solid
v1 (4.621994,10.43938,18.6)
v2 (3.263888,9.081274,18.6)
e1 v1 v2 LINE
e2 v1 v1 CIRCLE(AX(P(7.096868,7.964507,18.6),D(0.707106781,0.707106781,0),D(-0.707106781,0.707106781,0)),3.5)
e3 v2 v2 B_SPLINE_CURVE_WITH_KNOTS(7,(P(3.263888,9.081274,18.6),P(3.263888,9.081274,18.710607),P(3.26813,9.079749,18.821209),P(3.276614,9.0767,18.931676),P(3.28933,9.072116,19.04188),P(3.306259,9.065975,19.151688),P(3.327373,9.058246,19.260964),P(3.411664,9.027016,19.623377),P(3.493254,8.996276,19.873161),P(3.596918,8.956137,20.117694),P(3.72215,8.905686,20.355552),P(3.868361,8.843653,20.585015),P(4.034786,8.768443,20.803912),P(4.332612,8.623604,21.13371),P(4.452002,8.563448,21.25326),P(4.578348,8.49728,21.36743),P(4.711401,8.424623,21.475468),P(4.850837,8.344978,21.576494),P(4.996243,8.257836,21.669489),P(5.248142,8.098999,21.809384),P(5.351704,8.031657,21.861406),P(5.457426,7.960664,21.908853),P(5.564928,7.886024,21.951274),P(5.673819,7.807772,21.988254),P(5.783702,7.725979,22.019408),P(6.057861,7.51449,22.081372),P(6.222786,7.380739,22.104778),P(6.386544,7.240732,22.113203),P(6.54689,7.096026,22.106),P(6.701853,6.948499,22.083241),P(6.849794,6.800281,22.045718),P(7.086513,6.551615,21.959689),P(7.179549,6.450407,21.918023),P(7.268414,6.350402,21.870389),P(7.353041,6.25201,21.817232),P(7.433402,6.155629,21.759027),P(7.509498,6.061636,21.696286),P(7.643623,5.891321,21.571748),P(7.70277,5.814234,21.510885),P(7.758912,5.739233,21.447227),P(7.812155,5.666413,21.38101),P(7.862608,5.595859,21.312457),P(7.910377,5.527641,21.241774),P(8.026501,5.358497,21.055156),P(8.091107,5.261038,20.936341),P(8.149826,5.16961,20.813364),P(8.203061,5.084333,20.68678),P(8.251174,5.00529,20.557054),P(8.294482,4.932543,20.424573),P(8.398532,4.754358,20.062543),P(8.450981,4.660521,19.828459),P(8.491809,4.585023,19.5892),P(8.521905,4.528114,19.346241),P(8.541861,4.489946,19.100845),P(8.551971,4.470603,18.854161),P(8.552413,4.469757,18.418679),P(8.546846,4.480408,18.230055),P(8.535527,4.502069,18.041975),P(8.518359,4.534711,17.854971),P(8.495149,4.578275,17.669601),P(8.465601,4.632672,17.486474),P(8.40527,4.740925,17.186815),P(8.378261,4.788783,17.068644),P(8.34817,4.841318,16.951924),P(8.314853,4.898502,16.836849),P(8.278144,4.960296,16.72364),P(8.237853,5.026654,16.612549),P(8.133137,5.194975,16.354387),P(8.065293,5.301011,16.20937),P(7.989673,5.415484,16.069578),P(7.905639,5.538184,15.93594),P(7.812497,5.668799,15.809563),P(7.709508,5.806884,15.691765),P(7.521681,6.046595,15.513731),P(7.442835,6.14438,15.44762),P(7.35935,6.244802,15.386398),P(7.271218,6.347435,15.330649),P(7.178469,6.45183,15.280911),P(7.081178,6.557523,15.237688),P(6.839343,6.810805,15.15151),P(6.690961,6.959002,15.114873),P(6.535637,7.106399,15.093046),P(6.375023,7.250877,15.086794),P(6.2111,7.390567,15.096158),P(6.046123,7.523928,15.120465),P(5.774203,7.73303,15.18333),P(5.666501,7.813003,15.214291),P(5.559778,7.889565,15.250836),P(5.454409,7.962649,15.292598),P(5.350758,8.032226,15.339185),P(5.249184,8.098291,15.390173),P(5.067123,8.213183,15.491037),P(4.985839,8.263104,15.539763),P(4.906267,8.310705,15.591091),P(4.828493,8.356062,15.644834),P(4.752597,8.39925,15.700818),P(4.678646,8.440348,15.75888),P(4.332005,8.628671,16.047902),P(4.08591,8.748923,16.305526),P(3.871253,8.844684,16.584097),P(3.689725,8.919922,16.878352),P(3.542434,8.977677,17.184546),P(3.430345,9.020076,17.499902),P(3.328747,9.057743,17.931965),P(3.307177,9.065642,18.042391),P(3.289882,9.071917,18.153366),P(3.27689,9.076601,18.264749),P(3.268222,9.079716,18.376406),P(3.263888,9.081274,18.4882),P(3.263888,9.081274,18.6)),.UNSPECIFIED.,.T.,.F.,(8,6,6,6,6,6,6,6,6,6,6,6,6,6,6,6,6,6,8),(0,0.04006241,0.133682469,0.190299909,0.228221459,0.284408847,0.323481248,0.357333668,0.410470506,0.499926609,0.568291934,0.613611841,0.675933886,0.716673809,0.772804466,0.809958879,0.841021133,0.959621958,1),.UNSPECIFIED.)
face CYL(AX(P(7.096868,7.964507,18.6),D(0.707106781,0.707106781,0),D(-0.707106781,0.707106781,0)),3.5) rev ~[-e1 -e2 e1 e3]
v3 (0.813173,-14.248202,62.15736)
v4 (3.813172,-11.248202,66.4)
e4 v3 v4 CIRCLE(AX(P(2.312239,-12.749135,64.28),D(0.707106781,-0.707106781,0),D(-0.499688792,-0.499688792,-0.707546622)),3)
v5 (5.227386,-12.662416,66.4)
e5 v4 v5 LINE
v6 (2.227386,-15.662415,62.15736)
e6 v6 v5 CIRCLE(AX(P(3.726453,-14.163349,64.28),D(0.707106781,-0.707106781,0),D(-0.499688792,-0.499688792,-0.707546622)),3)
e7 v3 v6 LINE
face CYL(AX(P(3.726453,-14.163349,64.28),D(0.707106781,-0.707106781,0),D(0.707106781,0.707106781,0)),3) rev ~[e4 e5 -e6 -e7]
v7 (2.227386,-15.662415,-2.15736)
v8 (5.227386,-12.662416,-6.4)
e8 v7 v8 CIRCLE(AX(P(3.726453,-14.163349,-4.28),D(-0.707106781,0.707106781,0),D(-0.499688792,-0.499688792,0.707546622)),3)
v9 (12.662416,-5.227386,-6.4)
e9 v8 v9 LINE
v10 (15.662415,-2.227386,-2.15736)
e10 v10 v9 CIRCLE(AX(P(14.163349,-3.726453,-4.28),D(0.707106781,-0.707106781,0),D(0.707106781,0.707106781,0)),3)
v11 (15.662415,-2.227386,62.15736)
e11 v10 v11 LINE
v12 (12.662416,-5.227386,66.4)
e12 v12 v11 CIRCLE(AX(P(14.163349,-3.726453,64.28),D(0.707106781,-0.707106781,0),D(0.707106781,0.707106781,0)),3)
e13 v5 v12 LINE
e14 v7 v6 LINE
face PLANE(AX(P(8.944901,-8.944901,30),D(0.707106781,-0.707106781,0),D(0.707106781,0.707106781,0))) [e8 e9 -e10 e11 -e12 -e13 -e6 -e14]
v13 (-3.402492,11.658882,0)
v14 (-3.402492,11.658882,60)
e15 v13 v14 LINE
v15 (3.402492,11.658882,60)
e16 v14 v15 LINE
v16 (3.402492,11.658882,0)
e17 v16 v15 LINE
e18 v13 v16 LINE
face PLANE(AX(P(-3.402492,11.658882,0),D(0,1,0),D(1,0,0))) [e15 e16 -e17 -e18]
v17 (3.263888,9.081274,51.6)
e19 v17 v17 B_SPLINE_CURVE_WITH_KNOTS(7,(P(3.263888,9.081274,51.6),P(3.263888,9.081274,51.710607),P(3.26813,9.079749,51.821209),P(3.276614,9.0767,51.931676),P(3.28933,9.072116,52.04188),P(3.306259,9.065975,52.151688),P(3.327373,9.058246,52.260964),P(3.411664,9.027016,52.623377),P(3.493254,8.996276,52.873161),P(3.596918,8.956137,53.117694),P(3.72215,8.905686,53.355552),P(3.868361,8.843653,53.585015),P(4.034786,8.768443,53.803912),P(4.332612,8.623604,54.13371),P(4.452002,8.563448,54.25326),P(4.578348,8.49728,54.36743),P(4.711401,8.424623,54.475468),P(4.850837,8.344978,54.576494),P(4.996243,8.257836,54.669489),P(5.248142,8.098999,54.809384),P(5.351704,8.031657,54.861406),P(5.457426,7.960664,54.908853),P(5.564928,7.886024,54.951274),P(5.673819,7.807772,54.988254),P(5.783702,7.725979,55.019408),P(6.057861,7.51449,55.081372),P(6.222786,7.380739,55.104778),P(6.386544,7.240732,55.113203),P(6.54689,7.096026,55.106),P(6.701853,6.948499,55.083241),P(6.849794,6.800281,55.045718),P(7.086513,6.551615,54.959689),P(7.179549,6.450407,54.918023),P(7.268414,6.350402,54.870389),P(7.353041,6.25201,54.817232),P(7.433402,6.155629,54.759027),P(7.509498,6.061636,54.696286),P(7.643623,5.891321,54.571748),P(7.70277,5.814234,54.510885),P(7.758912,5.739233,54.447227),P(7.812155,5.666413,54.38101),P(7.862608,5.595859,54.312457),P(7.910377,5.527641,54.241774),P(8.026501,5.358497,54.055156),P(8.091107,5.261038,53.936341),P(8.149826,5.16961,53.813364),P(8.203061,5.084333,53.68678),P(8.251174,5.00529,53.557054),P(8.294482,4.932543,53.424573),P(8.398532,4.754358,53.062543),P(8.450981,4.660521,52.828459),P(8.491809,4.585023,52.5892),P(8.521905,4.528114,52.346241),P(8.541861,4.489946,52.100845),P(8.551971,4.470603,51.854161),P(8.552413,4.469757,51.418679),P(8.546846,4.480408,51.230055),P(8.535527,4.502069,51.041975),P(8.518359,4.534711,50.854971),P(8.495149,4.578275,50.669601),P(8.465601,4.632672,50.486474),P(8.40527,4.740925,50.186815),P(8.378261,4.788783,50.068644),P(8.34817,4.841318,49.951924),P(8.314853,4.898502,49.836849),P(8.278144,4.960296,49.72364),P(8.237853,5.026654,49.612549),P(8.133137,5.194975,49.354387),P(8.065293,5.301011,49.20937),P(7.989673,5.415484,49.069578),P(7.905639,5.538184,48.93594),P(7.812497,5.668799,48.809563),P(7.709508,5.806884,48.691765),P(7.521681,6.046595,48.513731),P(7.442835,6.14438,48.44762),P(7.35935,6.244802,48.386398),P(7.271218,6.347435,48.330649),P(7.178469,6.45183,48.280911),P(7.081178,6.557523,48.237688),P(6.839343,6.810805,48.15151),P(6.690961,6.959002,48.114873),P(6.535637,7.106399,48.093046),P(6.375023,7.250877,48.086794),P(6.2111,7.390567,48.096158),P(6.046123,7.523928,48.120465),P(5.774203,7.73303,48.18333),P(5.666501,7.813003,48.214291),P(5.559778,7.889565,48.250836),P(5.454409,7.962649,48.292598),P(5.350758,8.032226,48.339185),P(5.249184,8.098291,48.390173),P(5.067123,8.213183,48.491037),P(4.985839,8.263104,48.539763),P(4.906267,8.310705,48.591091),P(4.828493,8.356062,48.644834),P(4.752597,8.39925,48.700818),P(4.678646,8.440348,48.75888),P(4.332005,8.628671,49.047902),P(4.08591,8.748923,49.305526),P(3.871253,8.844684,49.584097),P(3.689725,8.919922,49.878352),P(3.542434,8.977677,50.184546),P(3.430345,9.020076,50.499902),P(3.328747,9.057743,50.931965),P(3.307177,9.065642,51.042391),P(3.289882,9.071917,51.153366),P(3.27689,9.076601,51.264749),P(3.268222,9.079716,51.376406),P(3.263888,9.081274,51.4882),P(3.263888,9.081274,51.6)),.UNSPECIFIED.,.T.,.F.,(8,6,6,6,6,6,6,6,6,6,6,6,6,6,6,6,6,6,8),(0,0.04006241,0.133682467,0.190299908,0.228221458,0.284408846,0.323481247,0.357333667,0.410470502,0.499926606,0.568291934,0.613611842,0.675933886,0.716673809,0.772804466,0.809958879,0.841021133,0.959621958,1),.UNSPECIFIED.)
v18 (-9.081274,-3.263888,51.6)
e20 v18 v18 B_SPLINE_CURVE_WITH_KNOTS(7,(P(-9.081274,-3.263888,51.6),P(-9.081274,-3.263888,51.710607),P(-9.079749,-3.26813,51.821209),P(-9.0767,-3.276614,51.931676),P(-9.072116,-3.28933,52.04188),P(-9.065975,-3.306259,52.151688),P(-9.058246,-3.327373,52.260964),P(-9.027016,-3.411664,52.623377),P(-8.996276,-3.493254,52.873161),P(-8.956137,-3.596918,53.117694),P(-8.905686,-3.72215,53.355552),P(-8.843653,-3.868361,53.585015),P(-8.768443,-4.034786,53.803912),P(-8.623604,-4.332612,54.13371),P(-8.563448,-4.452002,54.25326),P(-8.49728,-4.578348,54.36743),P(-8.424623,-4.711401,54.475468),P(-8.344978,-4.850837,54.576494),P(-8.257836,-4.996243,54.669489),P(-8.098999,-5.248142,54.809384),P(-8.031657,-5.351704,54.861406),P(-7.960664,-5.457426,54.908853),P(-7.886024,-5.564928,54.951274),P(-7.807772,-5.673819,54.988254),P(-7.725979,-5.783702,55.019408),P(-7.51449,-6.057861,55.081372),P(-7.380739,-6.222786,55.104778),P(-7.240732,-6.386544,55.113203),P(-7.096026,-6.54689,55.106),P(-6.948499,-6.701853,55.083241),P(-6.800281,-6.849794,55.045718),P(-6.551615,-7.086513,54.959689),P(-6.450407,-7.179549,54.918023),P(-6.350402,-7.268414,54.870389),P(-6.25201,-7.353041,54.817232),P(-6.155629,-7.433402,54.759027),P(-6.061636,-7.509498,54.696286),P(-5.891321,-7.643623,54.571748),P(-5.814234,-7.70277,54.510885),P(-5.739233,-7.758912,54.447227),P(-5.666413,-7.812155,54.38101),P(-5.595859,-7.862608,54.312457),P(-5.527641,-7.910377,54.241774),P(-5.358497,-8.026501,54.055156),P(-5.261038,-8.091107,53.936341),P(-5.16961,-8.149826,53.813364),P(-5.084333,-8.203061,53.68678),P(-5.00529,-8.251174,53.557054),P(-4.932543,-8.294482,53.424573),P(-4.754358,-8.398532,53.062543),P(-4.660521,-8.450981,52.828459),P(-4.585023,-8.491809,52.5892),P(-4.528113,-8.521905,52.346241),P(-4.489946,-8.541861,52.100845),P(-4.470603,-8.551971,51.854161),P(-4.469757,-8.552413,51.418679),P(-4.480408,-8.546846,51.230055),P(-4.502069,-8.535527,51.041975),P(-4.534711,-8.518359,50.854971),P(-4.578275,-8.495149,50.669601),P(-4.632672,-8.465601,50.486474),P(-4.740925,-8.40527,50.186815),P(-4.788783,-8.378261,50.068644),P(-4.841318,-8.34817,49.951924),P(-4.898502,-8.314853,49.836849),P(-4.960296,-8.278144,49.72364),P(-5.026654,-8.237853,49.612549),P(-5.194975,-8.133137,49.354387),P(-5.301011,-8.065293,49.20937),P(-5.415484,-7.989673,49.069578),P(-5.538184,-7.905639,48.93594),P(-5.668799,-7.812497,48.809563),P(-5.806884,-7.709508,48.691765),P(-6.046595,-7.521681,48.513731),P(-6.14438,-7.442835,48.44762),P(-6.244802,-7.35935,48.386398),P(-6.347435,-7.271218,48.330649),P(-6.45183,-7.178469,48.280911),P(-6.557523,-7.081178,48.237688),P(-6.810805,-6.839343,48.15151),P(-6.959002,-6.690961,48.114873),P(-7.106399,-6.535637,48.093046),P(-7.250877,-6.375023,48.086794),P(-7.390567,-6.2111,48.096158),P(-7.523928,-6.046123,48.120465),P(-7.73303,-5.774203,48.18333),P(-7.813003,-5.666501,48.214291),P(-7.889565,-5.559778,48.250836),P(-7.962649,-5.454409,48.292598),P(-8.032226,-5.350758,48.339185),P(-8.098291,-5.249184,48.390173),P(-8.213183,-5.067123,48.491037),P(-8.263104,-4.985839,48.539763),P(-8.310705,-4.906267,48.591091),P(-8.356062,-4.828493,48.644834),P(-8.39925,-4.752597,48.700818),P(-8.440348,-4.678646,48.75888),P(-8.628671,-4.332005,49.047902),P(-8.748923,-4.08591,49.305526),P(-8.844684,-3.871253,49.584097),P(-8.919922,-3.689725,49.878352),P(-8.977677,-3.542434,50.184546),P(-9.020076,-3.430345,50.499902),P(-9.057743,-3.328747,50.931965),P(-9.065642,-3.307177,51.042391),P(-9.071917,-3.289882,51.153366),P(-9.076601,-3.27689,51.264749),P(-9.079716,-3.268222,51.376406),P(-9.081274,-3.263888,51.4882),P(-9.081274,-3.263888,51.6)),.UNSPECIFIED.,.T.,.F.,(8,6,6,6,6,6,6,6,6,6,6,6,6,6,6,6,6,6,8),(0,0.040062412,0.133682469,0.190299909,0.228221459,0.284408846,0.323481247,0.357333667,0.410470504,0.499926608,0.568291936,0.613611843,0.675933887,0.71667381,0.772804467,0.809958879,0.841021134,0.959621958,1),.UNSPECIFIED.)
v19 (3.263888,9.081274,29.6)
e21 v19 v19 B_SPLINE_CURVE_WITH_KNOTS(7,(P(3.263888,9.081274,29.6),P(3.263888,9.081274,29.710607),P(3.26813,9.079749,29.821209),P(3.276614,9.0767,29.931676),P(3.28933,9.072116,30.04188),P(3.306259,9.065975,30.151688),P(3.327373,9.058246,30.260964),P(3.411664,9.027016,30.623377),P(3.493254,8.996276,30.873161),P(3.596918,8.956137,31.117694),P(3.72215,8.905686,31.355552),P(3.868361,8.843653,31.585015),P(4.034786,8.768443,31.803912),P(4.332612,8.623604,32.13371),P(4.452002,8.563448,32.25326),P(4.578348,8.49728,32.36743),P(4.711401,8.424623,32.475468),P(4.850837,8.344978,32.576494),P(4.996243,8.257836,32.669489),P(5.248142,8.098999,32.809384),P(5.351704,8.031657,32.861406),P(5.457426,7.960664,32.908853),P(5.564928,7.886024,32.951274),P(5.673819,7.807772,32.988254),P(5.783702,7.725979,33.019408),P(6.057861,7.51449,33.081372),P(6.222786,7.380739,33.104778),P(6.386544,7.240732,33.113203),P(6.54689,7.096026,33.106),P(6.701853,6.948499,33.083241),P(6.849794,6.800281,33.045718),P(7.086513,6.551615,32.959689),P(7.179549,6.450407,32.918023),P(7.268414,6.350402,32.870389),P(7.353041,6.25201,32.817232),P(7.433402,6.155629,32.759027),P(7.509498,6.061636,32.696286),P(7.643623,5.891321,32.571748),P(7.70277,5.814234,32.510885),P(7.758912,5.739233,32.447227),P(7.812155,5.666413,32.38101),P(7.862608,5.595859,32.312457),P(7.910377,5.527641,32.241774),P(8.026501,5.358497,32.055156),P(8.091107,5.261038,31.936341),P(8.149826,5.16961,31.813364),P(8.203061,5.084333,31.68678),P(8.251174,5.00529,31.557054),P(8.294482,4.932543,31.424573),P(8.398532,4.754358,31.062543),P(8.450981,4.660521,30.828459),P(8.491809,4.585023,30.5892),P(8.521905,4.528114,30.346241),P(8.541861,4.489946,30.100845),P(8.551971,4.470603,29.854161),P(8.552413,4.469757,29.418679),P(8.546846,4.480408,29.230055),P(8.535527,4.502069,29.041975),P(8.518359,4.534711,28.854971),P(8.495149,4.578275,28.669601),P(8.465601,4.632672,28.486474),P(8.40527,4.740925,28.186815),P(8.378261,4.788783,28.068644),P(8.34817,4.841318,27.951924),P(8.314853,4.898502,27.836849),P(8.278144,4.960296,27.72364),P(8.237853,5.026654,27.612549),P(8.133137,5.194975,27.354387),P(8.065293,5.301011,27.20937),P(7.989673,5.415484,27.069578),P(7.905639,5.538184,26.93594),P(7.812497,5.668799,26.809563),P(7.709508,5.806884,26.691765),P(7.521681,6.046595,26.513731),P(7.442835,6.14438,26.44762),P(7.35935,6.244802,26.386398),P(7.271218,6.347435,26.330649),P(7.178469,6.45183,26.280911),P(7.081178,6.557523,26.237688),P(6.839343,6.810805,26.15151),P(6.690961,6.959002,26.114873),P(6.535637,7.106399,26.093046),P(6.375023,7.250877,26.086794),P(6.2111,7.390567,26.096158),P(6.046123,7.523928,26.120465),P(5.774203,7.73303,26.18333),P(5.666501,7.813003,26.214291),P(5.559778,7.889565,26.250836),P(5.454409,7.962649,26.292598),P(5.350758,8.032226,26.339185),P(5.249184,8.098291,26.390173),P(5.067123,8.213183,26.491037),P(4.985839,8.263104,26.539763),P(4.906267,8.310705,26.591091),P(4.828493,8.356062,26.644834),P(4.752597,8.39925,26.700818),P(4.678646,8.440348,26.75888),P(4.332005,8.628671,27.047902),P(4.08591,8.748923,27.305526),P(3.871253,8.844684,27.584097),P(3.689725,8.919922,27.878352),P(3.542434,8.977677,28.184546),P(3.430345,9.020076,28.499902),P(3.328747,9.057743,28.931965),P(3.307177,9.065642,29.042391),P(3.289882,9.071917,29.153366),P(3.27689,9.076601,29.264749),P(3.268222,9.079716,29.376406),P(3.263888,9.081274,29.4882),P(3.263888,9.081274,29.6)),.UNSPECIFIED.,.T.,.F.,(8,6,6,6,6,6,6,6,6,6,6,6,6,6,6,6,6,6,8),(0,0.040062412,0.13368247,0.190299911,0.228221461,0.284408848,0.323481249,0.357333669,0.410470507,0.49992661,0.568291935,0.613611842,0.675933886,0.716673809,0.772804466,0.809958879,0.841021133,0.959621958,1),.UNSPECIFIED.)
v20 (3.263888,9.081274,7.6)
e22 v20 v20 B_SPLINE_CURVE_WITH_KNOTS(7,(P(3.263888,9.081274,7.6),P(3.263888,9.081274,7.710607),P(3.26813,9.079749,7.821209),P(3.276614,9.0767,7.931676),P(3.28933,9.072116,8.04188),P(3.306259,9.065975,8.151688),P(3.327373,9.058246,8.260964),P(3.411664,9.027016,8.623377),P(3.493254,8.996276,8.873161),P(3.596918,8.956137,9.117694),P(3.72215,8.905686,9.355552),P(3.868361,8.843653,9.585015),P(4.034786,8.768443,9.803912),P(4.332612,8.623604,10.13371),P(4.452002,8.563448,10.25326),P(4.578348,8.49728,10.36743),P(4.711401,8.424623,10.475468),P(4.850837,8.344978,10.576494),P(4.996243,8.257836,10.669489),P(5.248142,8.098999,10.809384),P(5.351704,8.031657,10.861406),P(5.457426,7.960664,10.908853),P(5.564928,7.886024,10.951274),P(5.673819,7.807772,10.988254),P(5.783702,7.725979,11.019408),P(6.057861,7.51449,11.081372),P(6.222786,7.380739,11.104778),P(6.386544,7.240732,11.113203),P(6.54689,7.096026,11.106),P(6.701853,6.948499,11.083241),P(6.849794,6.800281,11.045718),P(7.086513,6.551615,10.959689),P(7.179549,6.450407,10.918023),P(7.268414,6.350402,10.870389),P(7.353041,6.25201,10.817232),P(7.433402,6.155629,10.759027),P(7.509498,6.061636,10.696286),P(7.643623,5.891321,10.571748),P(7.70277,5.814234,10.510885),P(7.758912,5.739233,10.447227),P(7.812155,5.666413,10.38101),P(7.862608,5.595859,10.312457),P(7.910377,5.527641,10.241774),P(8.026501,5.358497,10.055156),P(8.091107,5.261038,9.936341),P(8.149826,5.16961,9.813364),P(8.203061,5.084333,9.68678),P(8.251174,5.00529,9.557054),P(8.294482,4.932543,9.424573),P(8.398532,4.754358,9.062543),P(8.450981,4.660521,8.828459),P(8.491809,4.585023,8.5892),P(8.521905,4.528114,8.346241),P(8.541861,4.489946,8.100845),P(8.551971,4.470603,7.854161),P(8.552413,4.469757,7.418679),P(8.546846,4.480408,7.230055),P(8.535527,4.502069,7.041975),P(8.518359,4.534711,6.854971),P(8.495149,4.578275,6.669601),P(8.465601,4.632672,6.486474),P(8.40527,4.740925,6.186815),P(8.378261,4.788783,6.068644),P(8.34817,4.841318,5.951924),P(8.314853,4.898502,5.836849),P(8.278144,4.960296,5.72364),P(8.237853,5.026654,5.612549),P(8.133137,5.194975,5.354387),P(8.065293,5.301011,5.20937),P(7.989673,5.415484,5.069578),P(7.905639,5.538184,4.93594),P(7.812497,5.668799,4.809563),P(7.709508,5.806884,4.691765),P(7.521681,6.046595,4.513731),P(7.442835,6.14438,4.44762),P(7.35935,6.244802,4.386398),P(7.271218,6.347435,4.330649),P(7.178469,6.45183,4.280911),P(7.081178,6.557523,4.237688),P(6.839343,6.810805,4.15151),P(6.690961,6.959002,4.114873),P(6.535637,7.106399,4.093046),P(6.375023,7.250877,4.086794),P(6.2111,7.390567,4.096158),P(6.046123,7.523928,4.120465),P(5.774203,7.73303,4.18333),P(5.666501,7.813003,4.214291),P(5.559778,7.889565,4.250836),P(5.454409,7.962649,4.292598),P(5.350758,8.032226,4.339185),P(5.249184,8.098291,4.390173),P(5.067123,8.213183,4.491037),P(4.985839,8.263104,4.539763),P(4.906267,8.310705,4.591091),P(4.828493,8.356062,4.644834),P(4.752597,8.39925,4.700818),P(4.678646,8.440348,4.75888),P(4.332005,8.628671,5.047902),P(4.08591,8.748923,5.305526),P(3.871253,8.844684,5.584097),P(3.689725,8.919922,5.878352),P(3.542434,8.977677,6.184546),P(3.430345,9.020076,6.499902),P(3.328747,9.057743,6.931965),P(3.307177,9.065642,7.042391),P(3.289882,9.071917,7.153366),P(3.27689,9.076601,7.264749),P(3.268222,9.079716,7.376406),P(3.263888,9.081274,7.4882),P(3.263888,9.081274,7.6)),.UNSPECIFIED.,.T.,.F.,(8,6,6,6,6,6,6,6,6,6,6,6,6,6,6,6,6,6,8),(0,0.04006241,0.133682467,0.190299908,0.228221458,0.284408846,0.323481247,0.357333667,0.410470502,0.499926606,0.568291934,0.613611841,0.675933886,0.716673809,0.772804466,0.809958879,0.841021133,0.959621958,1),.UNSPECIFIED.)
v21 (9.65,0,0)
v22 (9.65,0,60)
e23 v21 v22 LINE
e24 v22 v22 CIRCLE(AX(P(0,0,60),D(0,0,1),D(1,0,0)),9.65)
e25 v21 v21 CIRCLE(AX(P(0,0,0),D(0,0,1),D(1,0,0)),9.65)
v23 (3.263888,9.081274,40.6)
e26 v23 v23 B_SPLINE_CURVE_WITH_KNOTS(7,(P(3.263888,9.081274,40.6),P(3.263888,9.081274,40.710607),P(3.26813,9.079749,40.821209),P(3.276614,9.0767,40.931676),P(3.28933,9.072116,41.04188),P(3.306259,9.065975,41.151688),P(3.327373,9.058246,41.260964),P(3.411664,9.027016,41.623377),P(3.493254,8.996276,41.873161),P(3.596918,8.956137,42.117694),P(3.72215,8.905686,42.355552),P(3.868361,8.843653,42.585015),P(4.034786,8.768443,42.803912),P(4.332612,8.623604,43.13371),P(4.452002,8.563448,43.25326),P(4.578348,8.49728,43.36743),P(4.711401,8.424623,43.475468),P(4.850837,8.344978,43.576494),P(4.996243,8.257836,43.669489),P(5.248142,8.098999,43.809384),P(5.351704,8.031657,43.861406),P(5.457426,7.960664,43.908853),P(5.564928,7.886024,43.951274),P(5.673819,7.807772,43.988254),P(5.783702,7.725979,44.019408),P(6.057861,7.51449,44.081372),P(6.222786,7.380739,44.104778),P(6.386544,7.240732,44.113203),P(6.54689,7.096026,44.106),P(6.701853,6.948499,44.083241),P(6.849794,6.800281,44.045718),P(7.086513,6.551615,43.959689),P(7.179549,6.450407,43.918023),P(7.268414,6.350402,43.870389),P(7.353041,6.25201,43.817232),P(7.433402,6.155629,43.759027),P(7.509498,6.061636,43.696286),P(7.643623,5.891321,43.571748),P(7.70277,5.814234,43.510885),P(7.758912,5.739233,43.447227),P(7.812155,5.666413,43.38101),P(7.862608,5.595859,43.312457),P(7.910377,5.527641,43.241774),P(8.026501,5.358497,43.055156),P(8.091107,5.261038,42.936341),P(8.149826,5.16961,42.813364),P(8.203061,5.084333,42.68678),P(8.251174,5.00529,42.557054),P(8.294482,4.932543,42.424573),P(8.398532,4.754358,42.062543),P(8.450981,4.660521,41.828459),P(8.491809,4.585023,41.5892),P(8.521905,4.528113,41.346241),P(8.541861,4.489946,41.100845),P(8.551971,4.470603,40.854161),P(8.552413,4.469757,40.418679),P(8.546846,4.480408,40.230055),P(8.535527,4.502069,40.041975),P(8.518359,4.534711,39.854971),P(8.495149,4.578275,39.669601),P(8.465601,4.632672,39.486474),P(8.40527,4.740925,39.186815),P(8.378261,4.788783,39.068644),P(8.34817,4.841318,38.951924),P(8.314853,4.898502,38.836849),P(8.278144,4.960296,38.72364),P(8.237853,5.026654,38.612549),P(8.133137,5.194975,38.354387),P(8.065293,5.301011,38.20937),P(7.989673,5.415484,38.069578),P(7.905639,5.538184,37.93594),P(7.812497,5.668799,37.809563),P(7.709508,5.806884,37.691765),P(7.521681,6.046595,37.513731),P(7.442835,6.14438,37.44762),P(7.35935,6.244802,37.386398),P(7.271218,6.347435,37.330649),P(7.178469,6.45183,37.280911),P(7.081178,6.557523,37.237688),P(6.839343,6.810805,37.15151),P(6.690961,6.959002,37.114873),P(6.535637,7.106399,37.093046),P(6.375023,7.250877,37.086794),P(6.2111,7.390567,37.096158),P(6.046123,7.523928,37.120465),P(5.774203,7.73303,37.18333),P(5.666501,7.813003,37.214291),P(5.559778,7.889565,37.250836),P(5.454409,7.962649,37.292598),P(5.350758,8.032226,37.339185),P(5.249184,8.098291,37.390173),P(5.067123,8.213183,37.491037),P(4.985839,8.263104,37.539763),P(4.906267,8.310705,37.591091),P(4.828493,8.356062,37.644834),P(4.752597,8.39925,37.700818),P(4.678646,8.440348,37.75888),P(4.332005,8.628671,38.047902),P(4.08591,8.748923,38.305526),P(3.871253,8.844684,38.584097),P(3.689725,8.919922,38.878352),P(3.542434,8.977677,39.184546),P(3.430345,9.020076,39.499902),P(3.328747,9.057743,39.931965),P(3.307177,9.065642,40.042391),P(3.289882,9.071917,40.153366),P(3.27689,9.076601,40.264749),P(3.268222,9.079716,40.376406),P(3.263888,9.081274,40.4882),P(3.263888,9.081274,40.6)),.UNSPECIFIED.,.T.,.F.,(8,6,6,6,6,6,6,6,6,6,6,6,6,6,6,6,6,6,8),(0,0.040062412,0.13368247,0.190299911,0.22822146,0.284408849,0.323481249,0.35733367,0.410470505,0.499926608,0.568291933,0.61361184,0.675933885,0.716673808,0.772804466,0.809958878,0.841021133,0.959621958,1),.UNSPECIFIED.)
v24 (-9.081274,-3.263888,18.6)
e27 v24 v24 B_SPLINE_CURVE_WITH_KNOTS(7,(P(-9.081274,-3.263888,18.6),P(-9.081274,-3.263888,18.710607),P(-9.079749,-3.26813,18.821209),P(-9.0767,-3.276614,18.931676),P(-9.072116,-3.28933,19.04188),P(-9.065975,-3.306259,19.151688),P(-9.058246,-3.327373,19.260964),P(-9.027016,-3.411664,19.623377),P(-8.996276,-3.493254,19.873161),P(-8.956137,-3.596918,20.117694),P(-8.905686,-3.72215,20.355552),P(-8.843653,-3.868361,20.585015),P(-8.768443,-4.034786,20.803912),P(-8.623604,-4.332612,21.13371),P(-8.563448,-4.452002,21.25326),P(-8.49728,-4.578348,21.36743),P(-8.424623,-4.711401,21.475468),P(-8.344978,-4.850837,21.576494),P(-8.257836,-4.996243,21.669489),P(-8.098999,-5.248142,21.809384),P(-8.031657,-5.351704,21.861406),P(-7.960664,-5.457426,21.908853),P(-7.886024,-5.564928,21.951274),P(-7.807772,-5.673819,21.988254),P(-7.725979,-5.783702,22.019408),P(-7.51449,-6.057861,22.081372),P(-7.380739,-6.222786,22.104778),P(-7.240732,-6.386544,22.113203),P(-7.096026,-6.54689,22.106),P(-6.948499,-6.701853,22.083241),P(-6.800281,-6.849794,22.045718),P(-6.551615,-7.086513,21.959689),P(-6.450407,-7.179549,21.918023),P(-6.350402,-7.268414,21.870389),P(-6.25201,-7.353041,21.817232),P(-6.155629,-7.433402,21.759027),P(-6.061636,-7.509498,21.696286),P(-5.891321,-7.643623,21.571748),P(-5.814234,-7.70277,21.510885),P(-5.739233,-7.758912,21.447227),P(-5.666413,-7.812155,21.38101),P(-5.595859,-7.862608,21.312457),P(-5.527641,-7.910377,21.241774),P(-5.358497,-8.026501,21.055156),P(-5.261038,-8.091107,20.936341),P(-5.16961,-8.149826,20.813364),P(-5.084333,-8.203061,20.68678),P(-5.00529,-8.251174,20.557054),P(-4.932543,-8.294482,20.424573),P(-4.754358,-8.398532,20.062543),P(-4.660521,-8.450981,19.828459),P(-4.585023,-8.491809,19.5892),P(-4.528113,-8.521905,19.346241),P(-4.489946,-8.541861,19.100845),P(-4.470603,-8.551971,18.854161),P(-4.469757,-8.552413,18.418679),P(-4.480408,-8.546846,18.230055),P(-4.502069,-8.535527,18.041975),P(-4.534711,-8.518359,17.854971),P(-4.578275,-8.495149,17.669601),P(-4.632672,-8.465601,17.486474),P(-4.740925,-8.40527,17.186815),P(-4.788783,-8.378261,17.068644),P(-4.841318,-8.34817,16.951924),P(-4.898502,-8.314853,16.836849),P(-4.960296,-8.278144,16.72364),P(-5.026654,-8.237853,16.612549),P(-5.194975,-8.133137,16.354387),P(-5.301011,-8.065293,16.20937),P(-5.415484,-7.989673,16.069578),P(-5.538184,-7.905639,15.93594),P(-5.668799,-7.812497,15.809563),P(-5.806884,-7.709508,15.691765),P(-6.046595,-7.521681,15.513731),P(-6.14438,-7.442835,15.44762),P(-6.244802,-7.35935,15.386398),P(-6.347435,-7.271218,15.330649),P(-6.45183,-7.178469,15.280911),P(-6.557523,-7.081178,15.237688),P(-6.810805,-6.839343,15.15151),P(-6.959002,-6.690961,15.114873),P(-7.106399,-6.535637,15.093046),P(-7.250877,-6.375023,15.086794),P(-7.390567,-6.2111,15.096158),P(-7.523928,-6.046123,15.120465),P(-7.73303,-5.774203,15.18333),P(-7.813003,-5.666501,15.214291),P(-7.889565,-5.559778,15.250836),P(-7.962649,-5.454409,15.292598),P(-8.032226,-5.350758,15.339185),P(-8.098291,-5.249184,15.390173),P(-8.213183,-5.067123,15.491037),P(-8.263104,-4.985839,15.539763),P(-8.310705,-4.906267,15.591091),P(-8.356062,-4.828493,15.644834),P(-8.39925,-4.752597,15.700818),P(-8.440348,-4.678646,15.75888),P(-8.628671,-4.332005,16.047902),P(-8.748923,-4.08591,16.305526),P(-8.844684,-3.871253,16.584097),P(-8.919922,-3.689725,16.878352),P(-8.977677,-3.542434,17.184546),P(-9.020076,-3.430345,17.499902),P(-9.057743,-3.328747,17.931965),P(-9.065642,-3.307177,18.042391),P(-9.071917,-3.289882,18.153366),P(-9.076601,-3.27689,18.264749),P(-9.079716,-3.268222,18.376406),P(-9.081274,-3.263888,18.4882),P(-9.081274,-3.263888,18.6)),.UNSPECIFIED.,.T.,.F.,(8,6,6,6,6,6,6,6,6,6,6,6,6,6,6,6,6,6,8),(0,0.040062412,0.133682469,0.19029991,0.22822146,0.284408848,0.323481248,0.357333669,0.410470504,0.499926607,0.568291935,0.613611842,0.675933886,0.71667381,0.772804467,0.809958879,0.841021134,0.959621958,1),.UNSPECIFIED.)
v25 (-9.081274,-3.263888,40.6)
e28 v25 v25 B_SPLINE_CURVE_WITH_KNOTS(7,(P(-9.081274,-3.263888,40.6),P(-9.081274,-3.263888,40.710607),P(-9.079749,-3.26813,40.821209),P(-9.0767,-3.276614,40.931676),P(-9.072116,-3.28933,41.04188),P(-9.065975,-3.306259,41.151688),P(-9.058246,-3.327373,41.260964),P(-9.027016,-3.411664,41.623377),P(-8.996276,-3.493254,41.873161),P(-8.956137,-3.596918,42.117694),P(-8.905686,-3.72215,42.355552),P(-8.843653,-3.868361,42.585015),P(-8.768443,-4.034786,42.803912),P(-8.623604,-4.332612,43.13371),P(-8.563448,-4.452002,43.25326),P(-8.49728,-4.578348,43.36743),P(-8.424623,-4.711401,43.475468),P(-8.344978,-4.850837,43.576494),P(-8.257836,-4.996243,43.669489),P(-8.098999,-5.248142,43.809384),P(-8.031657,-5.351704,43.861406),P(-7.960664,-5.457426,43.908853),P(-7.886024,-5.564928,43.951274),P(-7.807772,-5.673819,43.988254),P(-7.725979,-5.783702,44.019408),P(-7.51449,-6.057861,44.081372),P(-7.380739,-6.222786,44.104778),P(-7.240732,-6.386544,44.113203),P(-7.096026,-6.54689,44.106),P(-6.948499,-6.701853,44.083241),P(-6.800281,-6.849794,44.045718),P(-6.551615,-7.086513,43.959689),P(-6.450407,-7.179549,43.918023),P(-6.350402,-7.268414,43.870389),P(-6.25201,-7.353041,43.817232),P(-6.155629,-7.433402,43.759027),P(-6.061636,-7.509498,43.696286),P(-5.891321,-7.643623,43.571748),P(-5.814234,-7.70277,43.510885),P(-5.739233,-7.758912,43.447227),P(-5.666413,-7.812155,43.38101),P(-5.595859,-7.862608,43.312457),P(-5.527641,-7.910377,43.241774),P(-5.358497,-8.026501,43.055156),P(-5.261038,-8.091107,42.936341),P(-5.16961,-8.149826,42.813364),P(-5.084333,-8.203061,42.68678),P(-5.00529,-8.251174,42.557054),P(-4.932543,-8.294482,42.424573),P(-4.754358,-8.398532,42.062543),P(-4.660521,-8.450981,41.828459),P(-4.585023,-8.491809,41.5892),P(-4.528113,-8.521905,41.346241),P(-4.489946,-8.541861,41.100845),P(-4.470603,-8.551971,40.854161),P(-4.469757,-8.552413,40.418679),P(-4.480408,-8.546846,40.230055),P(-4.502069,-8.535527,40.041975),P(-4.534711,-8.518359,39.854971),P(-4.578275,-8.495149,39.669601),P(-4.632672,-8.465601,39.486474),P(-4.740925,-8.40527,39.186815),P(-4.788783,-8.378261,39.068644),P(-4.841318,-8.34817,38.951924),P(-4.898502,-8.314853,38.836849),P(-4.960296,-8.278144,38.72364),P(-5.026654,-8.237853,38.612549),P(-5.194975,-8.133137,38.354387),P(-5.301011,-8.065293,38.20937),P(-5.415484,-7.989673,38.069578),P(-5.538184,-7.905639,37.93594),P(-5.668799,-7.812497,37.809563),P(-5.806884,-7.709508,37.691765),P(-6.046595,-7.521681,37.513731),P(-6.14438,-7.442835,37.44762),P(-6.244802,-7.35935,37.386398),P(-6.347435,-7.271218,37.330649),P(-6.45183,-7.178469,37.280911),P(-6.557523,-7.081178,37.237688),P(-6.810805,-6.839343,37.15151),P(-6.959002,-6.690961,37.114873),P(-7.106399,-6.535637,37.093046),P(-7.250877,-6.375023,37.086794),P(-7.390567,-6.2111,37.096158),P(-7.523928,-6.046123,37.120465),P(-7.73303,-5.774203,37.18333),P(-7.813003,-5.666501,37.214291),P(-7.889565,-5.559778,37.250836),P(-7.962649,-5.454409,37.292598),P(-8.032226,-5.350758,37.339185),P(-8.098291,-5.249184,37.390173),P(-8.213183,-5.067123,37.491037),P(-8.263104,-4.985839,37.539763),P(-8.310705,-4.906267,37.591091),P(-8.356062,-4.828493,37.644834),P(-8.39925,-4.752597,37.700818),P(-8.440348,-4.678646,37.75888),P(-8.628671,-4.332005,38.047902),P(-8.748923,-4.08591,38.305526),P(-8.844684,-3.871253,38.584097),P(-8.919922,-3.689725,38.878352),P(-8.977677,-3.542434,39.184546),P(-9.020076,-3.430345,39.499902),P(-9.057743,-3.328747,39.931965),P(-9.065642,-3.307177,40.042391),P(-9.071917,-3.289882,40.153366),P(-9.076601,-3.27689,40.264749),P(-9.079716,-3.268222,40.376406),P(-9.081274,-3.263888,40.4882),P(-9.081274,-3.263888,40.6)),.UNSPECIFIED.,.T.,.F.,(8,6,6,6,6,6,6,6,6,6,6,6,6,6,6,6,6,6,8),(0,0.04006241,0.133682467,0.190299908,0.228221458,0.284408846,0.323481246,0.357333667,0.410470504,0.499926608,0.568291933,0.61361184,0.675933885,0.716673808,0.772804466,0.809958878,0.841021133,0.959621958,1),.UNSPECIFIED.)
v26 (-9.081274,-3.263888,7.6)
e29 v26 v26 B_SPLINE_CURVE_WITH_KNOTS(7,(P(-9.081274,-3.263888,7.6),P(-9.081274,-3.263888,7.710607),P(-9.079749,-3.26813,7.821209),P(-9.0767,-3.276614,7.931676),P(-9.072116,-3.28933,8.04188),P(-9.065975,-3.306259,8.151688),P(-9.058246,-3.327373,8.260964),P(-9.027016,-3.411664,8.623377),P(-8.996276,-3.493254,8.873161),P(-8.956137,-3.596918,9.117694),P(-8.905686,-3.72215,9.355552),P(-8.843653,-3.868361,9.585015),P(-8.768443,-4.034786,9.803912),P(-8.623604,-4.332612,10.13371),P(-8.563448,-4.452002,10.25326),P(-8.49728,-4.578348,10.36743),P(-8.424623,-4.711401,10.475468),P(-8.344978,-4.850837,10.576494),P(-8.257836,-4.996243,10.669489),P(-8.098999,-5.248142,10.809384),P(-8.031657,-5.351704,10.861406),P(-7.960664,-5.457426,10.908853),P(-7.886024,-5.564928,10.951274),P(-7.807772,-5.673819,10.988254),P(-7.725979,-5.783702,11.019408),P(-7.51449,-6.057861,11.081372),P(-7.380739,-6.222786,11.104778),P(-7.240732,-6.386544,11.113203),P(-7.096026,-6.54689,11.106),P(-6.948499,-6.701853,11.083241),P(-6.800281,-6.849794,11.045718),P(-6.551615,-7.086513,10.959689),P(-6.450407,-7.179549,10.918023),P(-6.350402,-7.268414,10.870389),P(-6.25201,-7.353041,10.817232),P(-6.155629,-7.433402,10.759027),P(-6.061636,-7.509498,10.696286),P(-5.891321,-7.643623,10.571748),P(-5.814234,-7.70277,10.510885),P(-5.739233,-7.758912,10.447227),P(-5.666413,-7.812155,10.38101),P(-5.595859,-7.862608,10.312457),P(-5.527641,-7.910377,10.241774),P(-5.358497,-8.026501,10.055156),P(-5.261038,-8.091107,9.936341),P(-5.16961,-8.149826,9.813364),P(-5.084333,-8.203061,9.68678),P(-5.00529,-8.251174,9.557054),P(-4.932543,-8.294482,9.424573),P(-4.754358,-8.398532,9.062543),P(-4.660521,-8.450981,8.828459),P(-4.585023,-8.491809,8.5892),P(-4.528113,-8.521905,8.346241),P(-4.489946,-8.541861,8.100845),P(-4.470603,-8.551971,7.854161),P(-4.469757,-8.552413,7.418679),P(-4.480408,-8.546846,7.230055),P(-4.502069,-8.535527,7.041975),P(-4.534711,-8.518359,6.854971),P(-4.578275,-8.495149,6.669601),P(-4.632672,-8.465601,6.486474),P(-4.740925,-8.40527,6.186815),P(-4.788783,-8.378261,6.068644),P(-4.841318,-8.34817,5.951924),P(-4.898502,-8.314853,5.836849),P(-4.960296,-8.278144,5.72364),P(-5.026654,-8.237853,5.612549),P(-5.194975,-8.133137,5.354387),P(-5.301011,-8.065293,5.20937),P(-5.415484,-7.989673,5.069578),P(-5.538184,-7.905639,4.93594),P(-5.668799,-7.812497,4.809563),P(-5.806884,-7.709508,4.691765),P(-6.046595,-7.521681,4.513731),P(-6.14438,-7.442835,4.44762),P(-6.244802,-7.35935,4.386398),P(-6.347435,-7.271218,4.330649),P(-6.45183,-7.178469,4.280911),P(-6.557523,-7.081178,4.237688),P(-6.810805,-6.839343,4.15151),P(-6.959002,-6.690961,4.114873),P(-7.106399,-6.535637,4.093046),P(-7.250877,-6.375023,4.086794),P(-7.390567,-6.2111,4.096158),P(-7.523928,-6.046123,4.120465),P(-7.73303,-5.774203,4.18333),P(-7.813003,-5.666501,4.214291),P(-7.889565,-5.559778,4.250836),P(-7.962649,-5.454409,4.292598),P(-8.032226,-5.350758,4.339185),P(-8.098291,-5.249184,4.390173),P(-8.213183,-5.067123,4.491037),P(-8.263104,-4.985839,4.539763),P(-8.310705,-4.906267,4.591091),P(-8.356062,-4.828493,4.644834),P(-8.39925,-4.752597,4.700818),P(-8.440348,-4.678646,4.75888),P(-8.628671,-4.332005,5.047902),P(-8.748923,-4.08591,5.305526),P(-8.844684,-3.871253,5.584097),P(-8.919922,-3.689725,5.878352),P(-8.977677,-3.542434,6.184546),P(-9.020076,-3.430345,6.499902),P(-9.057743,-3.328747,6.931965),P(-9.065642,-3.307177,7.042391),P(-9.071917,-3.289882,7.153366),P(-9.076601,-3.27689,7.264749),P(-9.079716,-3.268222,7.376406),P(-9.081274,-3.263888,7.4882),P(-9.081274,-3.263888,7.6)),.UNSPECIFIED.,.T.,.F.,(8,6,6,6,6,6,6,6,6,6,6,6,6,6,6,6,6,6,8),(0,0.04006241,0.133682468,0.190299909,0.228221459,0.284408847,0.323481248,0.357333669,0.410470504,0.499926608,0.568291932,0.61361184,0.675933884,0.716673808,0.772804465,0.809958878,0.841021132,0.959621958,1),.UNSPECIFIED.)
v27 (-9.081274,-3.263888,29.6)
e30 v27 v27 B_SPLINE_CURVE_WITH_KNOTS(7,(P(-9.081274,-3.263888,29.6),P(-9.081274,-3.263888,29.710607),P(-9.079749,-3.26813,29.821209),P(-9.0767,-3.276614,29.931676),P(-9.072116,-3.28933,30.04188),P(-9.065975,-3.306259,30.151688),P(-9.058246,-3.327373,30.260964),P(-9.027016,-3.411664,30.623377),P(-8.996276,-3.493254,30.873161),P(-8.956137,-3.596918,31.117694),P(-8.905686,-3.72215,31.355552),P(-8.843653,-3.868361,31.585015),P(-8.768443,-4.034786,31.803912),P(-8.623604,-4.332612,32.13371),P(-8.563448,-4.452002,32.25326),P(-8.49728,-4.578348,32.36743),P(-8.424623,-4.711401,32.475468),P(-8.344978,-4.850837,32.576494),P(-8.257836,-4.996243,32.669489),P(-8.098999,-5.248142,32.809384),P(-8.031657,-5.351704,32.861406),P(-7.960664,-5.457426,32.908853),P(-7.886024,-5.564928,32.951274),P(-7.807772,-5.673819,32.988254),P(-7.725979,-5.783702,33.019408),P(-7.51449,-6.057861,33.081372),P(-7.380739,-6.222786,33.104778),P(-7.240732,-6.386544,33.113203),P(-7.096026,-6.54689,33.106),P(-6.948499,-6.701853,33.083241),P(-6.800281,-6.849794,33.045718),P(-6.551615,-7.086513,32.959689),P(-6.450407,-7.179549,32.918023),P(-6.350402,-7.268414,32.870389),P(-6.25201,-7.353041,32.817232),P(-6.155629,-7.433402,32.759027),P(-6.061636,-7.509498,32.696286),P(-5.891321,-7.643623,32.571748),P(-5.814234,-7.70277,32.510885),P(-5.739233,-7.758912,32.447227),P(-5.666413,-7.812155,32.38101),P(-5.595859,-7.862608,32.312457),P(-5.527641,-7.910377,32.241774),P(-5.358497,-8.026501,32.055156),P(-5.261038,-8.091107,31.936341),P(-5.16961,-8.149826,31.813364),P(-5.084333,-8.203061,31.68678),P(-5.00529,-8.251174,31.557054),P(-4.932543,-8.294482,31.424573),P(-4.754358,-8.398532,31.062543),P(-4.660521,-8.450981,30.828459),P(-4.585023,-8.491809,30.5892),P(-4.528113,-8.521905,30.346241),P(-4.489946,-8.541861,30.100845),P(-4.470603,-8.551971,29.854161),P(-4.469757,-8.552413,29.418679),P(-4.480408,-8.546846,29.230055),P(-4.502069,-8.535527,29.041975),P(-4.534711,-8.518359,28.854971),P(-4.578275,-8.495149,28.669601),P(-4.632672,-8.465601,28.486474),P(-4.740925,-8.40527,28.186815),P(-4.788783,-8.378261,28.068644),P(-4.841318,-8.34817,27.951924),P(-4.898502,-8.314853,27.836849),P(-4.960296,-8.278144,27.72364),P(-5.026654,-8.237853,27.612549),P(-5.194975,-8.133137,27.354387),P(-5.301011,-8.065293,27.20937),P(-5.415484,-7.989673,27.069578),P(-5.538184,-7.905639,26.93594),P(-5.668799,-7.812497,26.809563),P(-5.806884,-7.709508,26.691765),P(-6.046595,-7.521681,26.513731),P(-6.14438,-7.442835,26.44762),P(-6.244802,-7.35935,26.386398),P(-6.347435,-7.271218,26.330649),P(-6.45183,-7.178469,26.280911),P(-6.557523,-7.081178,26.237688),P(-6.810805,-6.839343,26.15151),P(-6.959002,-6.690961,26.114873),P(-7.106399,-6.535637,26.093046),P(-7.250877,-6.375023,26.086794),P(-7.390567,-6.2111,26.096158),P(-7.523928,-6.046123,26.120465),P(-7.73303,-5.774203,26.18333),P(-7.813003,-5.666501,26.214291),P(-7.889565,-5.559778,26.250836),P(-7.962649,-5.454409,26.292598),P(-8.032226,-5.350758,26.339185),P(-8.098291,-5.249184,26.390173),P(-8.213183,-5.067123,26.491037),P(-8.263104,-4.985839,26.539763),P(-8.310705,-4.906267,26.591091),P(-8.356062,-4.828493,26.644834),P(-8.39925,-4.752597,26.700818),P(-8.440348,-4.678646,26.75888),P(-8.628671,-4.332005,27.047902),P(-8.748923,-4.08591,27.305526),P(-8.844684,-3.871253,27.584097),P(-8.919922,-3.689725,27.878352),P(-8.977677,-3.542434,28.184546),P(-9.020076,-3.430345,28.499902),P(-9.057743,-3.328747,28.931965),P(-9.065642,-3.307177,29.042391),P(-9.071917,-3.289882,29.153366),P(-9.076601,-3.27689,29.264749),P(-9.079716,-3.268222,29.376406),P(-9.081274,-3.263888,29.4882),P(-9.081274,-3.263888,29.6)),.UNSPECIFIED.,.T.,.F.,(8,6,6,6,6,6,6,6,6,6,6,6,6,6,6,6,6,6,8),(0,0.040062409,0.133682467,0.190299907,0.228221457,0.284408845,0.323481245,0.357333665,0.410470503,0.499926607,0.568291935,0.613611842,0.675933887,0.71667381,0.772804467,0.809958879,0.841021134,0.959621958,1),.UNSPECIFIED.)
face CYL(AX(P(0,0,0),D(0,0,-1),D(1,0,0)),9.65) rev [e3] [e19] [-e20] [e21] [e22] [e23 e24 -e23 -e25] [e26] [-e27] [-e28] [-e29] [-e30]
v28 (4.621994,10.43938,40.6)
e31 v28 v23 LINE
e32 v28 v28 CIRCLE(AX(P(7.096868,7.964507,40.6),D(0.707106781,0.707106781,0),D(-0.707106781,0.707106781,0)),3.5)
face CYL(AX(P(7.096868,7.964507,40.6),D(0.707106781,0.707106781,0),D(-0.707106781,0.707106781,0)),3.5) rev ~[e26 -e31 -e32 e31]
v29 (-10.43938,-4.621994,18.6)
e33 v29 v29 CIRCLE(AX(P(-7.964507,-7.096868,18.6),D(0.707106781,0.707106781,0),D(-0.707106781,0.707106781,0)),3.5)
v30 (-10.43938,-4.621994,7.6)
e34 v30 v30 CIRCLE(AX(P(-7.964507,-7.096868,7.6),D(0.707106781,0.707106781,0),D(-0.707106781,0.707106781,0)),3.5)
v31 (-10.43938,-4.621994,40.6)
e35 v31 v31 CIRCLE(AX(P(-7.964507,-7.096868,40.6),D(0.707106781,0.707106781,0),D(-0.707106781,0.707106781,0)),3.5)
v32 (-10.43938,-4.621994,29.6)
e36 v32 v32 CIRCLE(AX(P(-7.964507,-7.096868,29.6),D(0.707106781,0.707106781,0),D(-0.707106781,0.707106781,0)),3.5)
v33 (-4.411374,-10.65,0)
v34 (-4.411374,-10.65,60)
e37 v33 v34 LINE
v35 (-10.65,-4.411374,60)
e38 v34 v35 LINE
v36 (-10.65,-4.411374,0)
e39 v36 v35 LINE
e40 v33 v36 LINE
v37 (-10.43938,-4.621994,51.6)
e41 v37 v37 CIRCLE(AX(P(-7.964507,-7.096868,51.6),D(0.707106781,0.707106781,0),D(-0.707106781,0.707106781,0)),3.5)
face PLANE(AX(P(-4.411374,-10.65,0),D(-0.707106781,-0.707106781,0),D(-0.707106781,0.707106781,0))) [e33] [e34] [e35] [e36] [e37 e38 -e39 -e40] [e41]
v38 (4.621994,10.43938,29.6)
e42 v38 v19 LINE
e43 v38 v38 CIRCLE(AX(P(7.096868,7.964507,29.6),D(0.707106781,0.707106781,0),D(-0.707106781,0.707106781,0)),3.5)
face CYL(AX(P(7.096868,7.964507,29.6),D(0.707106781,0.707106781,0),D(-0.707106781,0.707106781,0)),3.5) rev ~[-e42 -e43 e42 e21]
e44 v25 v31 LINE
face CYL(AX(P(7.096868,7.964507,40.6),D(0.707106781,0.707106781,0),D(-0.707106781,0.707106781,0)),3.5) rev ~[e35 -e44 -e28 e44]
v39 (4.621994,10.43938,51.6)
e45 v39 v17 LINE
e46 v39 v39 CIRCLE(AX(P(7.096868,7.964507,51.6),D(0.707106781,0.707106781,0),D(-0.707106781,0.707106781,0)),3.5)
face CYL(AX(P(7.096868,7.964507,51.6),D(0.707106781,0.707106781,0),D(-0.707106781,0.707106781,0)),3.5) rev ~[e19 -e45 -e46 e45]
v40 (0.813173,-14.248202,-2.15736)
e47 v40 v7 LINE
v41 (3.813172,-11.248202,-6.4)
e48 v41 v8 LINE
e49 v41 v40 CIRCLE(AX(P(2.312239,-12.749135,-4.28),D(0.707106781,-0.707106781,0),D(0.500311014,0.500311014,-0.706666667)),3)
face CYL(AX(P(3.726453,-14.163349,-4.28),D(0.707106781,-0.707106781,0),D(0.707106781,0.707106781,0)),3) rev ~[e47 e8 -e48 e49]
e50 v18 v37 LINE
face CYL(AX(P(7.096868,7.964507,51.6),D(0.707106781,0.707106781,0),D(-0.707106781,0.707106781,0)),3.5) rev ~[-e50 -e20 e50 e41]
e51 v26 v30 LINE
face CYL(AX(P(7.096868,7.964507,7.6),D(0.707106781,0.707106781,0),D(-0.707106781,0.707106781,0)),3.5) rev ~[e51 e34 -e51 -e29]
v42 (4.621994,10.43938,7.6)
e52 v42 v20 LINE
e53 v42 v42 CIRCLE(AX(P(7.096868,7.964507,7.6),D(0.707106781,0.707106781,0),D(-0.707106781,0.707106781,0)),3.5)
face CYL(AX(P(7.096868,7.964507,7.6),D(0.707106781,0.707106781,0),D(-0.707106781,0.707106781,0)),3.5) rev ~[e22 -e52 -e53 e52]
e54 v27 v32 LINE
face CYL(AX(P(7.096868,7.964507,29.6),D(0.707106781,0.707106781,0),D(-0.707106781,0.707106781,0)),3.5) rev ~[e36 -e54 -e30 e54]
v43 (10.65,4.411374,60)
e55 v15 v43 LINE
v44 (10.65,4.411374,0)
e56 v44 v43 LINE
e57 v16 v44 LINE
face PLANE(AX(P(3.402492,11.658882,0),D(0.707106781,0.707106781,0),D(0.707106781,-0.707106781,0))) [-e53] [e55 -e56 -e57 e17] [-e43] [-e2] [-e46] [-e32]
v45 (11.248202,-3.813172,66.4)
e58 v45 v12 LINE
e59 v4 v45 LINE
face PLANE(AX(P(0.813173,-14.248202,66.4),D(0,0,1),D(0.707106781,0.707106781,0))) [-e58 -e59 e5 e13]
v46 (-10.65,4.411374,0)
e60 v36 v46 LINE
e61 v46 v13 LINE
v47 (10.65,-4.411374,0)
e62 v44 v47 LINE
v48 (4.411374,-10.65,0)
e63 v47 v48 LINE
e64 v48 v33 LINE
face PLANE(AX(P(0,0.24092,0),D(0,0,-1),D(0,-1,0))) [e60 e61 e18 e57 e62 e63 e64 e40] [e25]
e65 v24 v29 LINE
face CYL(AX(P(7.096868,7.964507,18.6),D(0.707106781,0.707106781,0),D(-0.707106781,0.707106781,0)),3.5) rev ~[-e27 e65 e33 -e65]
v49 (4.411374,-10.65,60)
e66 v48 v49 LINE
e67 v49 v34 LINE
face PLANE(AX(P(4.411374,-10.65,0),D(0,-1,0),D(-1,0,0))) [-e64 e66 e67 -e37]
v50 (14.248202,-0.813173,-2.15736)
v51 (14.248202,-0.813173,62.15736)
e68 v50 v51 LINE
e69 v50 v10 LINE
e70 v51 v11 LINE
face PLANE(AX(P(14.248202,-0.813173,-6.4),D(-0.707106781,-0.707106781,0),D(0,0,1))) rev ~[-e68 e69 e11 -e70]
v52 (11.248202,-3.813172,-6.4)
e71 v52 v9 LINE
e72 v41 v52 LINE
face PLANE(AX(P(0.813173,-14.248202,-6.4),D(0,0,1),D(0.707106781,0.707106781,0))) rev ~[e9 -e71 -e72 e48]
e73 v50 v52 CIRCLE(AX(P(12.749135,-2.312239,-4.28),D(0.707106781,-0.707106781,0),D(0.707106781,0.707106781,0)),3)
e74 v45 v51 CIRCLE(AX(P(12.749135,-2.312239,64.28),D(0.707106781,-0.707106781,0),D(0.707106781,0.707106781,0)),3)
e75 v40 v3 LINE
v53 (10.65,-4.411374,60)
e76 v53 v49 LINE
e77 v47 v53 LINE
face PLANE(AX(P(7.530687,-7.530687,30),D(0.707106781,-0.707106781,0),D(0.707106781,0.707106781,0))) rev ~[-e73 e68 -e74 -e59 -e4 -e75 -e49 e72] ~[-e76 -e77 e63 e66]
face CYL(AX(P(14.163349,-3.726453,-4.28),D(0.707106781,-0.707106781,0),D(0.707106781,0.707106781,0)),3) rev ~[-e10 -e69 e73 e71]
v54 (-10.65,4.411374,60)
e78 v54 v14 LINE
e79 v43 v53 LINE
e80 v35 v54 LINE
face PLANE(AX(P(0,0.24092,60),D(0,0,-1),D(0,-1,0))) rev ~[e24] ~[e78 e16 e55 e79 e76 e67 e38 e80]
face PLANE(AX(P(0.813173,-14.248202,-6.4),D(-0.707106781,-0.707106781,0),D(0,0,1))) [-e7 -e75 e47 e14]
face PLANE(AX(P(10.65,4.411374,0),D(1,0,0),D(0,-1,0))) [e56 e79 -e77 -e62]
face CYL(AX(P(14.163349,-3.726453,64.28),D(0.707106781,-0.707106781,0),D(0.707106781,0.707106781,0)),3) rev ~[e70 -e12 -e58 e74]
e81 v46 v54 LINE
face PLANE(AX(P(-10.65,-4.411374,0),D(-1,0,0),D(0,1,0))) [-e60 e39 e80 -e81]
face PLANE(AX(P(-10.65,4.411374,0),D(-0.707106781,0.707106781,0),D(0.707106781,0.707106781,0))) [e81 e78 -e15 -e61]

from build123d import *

# Parameters (mm, degrees)
SKIZZE1_R                        = 9.65
AUFSATZ_LINEAR_AUSTRAGEN1_DEPTH  = 60
SKIZZE9_R                        = 3.5
SCHNITT_LINEAR_AUSTRAGEN8_DEPTH  = 66.276908441
SKIZZE13_W                       = 19
SKIZZE13_H                       = 72.8
AUFSATZ_LINEAR_AUSTRAGEN2_DEPTH  = 2
SKIZZE14_R                       = 3
SCHNITT_LINEAR_AUSTRAGEN12_DEPTH = 2


with BuildPart() as part:
    # Skizze1 → Aufsatz-Linear austragen1 (new body)
    with BuildSketch(Plane(origin=(0, 0, 0), x_dir=(0, 1, 0), z_dir=(0, 0, 1))):
        Polygon((11.65888225, 3.402492189), (11.65888225, -3.402492189), (4.411374439, -10.65), (-4.411374439, -10.65), (-10.65, -4.411374439), (-10.65, 4.411374439), (-4.411374439, 10.65), (4.411374439, 10.65), align=None)
        with Locations(Location((0, 0, 0), (0, 0, 270))):
            Circle(SKIZZE1_R, mode=Mode.SUBTRACT)
    extrude(amount=AUFSATZ_LINEAR_AUSTRAGEN1_DEPTH)

    # Skizze9 → Schnitt-Linear austragen8 (cut, through all)
    with BuildSketch(Plane(origin=(7.53068722, 7.53068722, 0), x_dir=(-0.7071067811865476, 0.7071067811865475, 0), z_dir=(0.7071067811865475, 0.7071067811865476, 0))):
        with Locations((0.613513233, 51.6)):
            Circle(SKIZZE9_R)
        with Locations((0.613513233, 40.6)):
            Circle(SKIZZE9_R)
        with Locations((0.613513233, 29.6)):
            Circle(SKIZZE9_R)
        with Locations((0.613513233, 18.6)):
            Circle(SKIZZE9_R)
        with Locations((0.613513233, 7.6)):
            Circle(SKIZZE9_R)
    extrude(amount=-SCHNITT_LINEAR_AUSTRAGEN8_DEPTH, mode=Mode.SUBTRACT)

    # Skizze13 → Aufsatz-Linear austragen2 (add)
    with BuildSketch(Plane(origin=(7.53068722, -7.53068722, 0), x_dir=(0.7071067811865477, 0.7071067811865475, 0), z_dir=(0.7071067811865475, -0.7071067811865477, 0))):
        with Locations((0, 30)):
            Rectangle(SKIZZE13_W, SKIZZE13_H)
    extrude(amount=AUFSATZ_LINEAR_AUSTRAGEN2_DEPTH)

    # Skizze14 → Schnitt-Linear austragen12 (cut)
    with BuildSketch(Plane(origin=(8.944900782, -8.944900782, 0), x_dir=(0.7071067811865478, 0.7071067811865474, 0), z_dir=(0.7071067811865474, -0.7071067811865478, 0))):
        with Locations((7.38, 64.28)):
            Circle(SKIZZE14_R)
        with Locations((-7.38, -4.28)):
            Circle(SKIZZE14_R)
        with Locations((7.38, -4.28)):
            Circle(SKIZZE14_R)
        with Locations((-7.38, 64.28)):
            Circle(SKIZZE14_R)
    extrude(amount=-SCHNITT_LINEAR_AUSTRAGEN12_DEPTH, mode=Mode.SUBTRACT)


solid = part.part
